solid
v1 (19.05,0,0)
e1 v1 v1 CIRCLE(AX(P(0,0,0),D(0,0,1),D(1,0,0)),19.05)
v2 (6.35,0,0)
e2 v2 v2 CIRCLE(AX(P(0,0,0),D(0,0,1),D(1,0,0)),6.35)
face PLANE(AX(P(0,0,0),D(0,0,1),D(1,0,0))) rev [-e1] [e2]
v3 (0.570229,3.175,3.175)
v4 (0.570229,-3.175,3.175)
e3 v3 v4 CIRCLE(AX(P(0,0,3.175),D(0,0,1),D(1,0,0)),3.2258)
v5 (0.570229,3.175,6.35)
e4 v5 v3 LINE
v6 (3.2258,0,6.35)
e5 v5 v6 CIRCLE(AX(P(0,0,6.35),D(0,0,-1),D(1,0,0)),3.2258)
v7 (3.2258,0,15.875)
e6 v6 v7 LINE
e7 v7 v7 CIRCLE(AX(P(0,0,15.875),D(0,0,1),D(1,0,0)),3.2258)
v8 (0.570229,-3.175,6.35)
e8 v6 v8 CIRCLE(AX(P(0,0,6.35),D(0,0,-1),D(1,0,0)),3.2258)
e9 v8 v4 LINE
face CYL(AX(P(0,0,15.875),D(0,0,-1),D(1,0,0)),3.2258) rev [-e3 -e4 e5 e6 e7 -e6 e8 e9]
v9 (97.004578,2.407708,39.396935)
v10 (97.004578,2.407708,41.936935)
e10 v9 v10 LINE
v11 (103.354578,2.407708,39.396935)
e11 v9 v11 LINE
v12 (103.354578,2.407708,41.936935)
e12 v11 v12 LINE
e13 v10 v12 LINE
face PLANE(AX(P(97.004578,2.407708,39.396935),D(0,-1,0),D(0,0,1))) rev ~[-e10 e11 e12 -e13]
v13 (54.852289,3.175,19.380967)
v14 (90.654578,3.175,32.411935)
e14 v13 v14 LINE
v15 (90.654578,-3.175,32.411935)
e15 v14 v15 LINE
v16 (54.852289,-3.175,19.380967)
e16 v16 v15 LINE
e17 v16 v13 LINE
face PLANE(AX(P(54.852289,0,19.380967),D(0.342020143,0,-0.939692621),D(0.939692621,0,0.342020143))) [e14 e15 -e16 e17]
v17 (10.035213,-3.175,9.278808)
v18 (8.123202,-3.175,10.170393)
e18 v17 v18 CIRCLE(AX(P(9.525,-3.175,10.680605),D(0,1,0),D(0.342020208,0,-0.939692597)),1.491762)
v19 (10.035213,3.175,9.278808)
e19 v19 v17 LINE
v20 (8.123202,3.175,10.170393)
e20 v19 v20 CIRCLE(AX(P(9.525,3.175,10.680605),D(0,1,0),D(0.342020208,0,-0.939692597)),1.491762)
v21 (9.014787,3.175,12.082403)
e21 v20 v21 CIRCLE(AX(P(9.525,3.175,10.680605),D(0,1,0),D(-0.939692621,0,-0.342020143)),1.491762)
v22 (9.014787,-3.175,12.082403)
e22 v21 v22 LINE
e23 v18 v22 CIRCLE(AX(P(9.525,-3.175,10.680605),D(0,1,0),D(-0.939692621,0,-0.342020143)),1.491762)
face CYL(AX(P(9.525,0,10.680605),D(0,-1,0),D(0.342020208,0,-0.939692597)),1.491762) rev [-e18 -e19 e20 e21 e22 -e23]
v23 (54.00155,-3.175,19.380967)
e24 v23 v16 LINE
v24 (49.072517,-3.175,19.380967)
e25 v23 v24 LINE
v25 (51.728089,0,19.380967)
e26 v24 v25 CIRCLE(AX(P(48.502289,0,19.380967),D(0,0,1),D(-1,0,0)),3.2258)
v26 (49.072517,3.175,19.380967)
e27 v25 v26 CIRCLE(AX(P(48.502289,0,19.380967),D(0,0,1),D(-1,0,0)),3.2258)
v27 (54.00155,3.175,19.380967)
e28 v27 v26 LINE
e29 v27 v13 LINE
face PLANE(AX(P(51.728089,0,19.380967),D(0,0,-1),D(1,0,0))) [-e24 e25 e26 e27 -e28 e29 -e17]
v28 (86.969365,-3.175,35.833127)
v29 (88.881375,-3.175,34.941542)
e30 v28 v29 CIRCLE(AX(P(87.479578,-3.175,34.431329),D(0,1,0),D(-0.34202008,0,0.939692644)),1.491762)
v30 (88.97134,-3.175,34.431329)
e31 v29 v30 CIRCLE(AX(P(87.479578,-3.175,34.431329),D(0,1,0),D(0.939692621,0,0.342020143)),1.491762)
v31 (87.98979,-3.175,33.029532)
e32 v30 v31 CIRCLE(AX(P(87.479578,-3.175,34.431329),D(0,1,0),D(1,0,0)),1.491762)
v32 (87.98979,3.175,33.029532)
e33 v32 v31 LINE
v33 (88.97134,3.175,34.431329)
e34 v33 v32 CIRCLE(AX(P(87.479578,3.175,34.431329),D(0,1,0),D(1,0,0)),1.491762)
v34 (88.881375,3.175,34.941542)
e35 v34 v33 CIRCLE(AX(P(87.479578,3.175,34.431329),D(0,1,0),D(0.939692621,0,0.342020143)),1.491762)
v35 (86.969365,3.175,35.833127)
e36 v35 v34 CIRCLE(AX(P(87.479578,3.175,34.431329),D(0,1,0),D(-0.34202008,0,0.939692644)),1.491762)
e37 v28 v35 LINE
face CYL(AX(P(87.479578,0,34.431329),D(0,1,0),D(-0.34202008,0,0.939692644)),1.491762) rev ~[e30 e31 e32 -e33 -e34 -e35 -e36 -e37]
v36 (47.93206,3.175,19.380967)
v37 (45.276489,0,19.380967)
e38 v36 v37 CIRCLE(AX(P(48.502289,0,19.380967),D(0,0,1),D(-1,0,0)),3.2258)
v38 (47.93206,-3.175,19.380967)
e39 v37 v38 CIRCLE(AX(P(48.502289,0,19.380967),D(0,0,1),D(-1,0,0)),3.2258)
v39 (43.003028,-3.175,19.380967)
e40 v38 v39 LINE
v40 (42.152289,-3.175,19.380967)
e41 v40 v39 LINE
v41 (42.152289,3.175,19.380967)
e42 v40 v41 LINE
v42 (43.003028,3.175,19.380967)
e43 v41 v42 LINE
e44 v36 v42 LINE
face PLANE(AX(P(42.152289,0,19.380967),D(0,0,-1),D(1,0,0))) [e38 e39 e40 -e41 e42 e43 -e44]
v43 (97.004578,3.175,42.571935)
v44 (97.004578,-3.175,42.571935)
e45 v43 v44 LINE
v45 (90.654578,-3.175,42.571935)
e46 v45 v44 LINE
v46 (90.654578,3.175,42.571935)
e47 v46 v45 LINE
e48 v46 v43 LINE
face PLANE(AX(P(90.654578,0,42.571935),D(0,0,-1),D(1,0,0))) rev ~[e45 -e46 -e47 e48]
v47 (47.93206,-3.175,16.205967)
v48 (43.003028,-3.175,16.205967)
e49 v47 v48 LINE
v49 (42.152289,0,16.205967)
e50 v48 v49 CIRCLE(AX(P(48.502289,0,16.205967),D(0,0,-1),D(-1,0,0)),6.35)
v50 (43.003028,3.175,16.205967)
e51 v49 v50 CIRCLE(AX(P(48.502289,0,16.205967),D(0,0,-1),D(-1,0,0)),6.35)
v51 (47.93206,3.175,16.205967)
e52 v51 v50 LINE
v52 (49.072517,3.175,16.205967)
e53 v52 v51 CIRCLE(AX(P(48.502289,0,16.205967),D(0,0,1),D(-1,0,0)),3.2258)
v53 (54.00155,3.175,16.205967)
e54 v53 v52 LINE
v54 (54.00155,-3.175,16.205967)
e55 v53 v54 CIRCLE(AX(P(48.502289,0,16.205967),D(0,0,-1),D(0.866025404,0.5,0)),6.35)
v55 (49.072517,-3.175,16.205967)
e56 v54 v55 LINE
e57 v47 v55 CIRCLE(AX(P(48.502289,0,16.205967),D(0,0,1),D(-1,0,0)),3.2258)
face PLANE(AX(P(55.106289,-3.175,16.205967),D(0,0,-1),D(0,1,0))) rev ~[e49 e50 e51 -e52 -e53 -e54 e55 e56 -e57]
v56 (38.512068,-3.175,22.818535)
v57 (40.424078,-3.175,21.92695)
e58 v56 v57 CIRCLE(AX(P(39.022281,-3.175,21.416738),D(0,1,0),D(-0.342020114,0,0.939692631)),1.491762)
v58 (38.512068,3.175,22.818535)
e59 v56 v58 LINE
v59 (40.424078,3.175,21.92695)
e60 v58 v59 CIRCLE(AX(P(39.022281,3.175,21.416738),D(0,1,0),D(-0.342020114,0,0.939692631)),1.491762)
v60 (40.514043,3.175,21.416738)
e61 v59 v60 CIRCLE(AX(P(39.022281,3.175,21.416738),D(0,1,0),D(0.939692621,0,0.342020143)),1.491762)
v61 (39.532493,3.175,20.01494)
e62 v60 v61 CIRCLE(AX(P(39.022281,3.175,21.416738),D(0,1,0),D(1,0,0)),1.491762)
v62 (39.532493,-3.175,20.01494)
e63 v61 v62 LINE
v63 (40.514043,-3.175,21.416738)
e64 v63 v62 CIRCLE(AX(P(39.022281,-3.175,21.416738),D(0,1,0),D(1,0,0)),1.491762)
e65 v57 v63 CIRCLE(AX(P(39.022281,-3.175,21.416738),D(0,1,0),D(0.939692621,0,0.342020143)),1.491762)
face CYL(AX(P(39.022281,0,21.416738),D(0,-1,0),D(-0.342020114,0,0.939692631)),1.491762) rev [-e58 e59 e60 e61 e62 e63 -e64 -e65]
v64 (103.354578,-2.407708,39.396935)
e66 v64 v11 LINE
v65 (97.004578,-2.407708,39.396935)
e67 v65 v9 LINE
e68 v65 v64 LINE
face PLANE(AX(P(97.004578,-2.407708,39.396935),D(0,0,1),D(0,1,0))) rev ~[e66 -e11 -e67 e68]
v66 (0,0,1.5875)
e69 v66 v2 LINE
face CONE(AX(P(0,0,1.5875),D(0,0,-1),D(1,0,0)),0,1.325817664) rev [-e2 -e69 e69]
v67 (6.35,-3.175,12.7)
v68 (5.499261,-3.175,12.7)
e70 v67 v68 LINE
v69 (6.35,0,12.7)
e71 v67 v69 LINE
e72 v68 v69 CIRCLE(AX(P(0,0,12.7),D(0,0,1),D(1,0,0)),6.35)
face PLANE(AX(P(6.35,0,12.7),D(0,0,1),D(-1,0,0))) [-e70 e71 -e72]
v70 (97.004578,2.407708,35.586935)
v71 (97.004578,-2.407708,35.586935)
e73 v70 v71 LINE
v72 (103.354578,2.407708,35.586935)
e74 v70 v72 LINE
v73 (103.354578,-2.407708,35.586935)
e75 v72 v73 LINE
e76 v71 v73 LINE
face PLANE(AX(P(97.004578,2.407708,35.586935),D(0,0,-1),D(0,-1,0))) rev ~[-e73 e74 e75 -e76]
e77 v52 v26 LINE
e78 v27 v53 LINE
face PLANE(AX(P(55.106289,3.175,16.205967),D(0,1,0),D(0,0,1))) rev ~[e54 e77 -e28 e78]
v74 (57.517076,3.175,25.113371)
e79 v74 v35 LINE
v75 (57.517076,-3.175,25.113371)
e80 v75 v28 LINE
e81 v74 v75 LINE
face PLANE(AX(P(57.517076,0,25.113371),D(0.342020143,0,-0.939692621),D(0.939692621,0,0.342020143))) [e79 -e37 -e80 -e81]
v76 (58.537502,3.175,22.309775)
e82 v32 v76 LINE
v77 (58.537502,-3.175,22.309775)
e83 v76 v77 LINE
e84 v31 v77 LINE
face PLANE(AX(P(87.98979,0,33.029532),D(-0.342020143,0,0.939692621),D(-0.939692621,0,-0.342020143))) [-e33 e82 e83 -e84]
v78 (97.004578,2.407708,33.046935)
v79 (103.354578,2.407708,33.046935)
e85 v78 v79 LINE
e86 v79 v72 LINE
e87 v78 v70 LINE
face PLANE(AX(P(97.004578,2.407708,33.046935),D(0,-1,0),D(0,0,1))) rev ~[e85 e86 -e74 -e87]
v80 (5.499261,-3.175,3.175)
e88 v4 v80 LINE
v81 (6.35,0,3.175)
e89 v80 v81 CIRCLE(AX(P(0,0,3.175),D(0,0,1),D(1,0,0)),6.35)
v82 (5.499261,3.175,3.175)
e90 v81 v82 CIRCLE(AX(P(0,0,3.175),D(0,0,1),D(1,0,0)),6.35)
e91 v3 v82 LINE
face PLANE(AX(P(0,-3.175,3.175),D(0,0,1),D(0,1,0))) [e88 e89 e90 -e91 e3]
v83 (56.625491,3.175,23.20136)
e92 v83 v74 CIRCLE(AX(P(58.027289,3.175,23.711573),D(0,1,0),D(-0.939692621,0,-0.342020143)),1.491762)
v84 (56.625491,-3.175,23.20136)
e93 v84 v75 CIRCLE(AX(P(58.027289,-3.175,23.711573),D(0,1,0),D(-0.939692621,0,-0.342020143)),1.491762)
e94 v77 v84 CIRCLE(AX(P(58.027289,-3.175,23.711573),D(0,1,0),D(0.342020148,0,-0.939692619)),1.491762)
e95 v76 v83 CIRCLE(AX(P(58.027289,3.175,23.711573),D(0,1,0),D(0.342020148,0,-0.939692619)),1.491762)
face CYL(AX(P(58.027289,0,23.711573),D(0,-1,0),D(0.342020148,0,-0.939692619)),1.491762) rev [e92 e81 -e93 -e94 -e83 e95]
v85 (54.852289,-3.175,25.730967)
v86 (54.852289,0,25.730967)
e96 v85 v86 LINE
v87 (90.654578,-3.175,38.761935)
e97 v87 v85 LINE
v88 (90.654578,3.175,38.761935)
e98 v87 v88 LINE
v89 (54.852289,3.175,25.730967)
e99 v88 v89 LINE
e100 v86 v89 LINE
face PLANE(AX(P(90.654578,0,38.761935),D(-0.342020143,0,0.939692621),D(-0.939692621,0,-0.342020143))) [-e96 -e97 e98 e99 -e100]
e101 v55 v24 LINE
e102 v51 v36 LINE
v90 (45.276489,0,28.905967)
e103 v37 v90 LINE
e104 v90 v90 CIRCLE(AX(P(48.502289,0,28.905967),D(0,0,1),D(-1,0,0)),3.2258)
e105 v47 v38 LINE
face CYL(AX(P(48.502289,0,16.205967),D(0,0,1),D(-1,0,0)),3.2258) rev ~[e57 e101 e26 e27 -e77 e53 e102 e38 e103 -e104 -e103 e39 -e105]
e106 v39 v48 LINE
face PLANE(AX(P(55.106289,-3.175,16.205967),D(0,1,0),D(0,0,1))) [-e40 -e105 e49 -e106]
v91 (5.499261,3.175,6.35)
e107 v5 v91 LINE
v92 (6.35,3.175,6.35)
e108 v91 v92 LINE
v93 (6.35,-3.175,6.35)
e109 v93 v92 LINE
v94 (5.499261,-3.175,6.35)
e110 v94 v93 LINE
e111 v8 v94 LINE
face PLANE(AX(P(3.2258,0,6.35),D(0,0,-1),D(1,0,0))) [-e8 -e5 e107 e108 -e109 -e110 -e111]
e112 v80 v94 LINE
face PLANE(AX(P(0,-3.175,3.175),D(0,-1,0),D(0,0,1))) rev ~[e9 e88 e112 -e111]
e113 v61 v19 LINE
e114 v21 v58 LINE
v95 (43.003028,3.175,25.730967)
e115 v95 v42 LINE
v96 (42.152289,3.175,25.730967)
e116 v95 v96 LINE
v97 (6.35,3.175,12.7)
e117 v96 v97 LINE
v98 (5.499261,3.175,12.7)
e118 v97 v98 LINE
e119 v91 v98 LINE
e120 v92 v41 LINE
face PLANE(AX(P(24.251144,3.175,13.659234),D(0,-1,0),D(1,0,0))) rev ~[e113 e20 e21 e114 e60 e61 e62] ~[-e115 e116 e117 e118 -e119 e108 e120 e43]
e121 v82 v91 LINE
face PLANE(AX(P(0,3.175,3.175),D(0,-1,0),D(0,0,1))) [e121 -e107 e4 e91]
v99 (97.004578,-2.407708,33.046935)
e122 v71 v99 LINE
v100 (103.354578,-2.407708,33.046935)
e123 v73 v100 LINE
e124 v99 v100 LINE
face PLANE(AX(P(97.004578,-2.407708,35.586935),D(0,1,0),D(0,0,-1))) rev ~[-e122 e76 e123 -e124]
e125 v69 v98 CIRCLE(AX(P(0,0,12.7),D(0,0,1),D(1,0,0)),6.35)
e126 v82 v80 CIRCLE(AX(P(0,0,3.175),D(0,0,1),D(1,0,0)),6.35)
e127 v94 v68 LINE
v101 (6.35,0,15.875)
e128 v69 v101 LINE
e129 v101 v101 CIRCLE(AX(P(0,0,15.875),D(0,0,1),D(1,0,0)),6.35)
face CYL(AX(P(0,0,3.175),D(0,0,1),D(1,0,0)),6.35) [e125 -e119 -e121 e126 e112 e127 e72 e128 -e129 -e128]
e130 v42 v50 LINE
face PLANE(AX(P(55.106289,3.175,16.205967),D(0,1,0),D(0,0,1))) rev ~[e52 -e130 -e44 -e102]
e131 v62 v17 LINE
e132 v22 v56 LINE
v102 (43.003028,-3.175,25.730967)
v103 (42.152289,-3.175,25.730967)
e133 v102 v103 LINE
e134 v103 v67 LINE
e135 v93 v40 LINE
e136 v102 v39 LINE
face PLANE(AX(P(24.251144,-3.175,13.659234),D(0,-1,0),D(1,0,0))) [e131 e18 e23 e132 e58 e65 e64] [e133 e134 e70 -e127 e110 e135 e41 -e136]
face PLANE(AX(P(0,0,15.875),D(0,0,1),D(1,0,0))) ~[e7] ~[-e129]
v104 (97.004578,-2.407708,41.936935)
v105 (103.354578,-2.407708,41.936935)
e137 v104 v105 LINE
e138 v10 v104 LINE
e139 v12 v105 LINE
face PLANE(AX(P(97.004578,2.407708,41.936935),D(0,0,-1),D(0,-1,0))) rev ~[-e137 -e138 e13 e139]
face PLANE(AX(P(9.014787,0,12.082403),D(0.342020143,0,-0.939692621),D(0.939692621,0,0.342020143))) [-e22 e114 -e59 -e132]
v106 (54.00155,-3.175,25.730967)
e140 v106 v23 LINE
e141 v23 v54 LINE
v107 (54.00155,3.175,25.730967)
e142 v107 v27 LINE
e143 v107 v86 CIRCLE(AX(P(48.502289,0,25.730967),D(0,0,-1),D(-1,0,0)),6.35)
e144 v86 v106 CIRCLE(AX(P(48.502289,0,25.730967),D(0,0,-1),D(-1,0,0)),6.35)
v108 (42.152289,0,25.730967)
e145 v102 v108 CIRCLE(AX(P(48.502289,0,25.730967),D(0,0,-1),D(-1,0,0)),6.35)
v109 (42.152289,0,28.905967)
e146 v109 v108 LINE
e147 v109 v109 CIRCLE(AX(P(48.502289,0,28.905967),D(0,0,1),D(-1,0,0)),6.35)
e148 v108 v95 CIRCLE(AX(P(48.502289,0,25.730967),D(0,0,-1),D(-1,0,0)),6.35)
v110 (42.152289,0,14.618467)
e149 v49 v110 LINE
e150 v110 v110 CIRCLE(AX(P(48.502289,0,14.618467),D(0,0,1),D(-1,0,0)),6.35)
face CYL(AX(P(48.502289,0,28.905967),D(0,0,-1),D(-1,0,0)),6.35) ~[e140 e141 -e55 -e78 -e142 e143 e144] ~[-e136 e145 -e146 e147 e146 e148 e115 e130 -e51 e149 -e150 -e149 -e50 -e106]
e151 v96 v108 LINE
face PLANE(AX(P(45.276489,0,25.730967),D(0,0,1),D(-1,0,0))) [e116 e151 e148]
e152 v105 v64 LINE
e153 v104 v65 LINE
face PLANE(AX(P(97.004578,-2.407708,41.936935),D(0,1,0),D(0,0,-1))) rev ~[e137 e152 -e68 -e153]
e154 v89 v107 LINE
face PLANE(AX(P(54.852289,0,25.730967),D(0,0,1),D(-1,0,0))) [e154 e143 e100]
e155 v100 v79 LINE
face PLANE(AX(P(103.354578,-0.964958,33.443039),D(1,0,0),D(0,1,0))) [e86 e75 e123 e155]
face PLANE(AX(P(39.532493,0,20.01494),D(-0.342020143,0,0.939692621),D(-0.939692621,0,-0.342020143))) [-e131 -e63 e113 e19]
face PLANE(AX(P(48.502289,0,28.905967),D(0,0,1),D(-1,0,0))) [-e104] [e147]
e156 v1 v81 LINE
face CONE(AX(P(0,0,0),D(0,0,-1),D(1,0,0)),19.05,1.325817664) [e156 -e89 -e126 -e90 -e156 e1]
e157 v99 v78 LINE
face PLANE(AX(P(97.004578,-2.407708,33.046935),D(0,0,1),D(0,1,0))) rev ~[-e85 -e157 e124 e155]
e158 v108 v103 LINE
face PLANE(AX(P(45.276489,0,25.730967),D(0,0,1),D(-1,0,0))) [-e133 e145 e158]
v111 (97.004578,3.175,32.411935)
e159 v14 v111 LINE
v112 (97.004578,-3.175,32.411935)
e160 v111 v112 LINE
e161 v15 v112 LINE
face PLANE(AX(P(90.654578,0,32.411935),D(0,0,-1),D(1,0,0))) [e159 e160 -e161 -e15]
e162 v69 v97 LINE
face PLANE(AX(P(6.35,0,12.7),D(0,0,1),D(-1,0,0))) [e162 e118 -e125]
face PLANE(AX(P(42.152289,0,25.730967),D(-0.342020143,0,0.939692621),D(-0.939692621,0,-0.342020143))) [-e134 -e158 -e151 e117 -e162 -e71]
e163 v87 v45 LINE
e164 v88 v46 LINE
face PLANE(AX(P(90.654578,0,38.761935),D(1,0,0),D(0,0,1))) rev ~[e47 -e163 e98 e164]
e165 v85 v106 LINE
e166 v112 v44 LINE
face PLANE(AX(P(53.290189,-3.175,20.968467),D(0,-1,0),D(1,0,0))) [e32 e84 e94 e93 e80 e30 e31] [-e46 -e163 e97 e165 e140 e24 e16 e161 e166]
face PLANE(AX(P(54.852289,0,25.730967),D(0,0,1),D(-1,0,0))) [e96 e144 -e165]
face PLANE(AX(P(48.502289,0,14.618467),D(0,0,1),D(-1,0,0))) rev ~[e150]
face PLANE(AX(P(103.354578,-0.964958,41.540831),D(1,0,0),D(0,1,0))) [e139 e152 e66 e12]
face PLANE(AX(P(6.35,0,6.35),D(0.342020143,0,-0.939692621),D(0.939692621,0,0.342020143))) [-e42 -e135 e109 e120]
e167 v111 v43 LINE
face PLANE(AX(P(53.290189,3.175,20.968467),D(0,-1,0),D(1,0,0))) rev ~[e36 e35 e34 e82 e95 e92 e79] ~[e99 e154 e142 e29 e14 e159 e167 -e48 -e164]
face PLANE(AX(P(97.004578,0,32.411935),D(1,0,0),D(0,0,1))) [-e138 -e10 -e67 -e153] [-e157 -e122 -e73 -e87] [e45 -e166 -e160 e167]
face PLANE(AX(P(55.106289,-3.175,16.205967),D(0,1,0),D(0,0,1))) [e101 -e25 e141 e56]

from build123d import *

# Parameters (mm, degrees)
F0_W     = 3.1242
F0_H     = 3.175
F2_DEPTH = 3.175
F0_W_2   = 0.254
F0_W_3   = 6.35
F0_H_2   = 3.81
F4_W     = 3.175
F4_H     = 3.175
F5_DEPTH = 6.35
F6_W     = 6.35
F6_H     = 3.175
F7_DEPTH = 12.954
F9_DEPTH = 6.35


with BuildPart() as f1:
    # F0 (on Front) → F1 (revolve)
    with BuildSketch(Plane.XZ):
        Polygon((3.2258, 3.175), (0, 3.175), (0, 1.5875), (6.35, 0), (19.05, 0), (6.35, 3.175), (6.35, 6.35), (3.2258, 6.35), align=None)
        Polygon((3.2258, 9.525), (3.2258, 6.35), (6.35, 6.35), (6.35, 7.9375), (6.35, 9.525), align=None)
        Polygon((3.2258, 12.7), (3.2258, 9.525), (6.35, 9.525), (6.35, 11.1125), (6.35, 12.7), align=None)
        with Locations((4.7879, 14.2875)):
            Rectangle(F0_W, F0_H)
    revolve(axis=Axis((0, 0, 9.525), (0, 0, 1)))

    # F0 (on Front) → F2 (join, symmetric)
    with BuildSketch(Plane.XZ):
        Polygon((6.35, 7.9375), (6.35, 6.35), (42.1522888519, 19.3809674607), (42.1522888519, 20.9684674607), (39.5324932131, 20.0149398283), (10.0352127619, 9.2788077523), align=None)
        with BuildLine():
            Line((8.1232022233, 10.1703928286), (6.35, 9.525))
            Line((6.35, 9.525), (6.35, 7.9375))
            Line((6.35, 7.9375), (10.0352127619, 9.2788077523))
            ThreePointArc((10.0352127619, 9.2788077523), (8.8945541682, 9.3286099229), (8.1232022233, 10.1703928286))
        make_face()
        with BuildLine():
            Line((6.35, 11.1125), (6.35, 9.525))
            Line((6.35, 9.525), (8.1232022233, 10.1703928286))
            ThreePointArc((8.1232022233, 10.1703928286), (8.173004472, 11.3110514176), (9.014787429, 12.0824033048))
            Line((9.014787429, 12.0824033048), (6.35, 11.1125))
        make_face()
        Polygon((42.1522888519, 25.7309674607), (6.35, 12.7), (6.35, 11.1125), (9.014787429, 12.0824033048), (38.5120679189, 22.8185353949), (42.1522888519, 24.1434674607), align=None)
        Polygon((3.2258, 12.7), (3.2258, 9.525), (6.35, 9.525), (6.35, 11.1125), (6.35, 12.7), align=None)
        Polygon((3.2258, 9.525), (3.2258, 6.35), (6.35, 6.35), (6.35, 7.9375), (6.35, 9.525), align=None)
        with BuildLine():
            Line((42.1015425762, 22.5374973268), (42.1522888519, 22.5377925414))
            Line((42.1522888519, 22.5377925414), (42.1522888519, 24.1434674607))
            Line((42.1522888519, 24.1434674607), (38.5120679189, 22.8185353949))
            ThreePointArc((38.5120679189, 22.8185353949), (39.65272644, 22.7687331418), (40.4240783174, 21.9269502676))
            Line((40.4240783174, 21.9269502676), (40.5140425762, 21.9596945799))
            Line((40.5140425762, 21.9596945799), (42.1015425762, 22.5374973268))
        make_face()
        with BuildLine():
            Line((39.5324932131, 20.0149398283), (42.1522888519, 20.9684674607))
            Line((42.1522888519, 20.9684674607), (42.1522888519, 22.5377925414))
            Line((42.1522888519, 22.5377925414), (42.1015425762, 22.5374973268))
            Line((42.1015425762, 22.5374973268), (40.5140425762, 21.9596945799))
            Line((40.5140425762, 21.9596945799), (40.4240783174, 21.9269502676))
            ThreePointArc((40.4240783174, 21.9269502676), (40.4913793589, 21.6757793614), (40.5140425762, 21.4167376024))
            ThreePointArc((40.5140425762, 21.4167376024), (40.2442604638, 20.5610980533), (39.5324932131, 20.0149398283))
        make_face()
        Polygon((45.2764888519, 25.7309674607), (42.1522888519, 25.7309674607), (42.1522888519, 24.1434674607), (42.1522888519, 22.5377925414), (45.2764888519, 22.5559674607), align=None)
        Polygon((42.1522888519, 20.9684674607), (42.1522888519, 19.3809674607), (45.2764888519, 19.3809674607), (45.2764888519, 22.5559674607), (42.1522888519, 22.5377925414), align=None)
    extrude(amount=F2_DEPTH, both=True)



with BuildPart() as f2:
    # F0 (on Front) → F2, piece 2 (new body, symmetric)
    with BuildSketch(Plane.XZ):
        with Locations((54.9792888519, 17.7934674607)):
            Rectangle(F0_W_2, F0_H)
    extrude(amount=F2_DEPTH, both=True)

    # F0 (on Front) → F2, piece 3 (join, symmetric)
    with BuildSketch(Plane.XZ):
        Polygon((51.7280888519, 22.5559674607), (51.7280888519, 19.3809674607), (54.8522888519, 19.3809674607), (54.8522888519, 20.9684674607), (54.8522888519, 22.5559674607), align=None)
        Polygon((51.7280888519, 25.7309674607), (51.7280888519, 22.5559674607), (54.8522888519, 22.5559674607), (54.8522888519, 24.1434674607), (54.8522888519, 25.7309674607), align=None)
        Polygon((90.6545777039, 38.7619349214), (54.8522888519, 25.7309674607), (54.8522888519, 24.1434674607), (57.5170761795, 25.1133707286), (86.9693651328, 35.8331272386), (90.6545777039, 37.1744349214), align=None)
        with BuildLine():
            Line((54.8522888519, 24.1434674607), (54.8522888519, 22.5559674607))
            Line((54.8522888519, 22.5559674607), (56.6254910752, 23.2013602893))
            ThreePointArc((56.6254910752, 23.2013602893), (56.6752933011, 24.3420188294), (57.5170761795, 25.1133707286))
            Line((57.5170761795, 25.1133707286), (54.8522888519, 24.1434674607))
        make_face()
        with BuildLine():
            Line((54.8522888519, 22.5559674607), (54.8522888519, 20.9684674607))
            Line((54.8522888519, 20.9684674607), (58.5375015244, 22.3097751804))
            ThreePointArc((58.5375015244, 22.3097751804), (57.3968429771, 22.3595774037), (56.6254910752, 23.2013602893))
            Line((56.6254910752, 23.2013602893), (54.8522888519, 22.5559674607))
        make_face()
        Polygon((54.8522888519, 20.9684674607), (54.8522888519, 19.3809674607), (90.6545777039, 32.4119349214), (90.6545777039, 33.9994349214), (87.9897903763, 33.0295316535), (58.5375015244, 22.3097751804), align=None)
        with BuildLine():
            Line((87.9897903763, 33.0295316535), (90.6545777039, 33.9994349214))
            Line((90.6545777039, 33.9994349214), (90.6545777039, 35.5869349214))
            Line((90.6545777039, 35.5869349214), (88.8813754806, 34.9415420928))
            ThreePointArc((88.8813754806, 34.9415420928), (88.9486765221, 34.6903711866), (88.9713397394, 34.4313294276))
            ThreePointArc((88.9713397394, 34.4313294276), (88.7015576271, 33.5756898786), (87.9897903763, 33.0295316535))
        make_face()
        with BuildLine():
            Line((88.8813754806, 34.9415420928), (90.6545777039, 35.5869349214))
            Line((90.6545777039, 35.5869349214), (90.6545777039, 37.1744349214))
            Line((90.6545777039, 37.1744349214), (86.9693651328, 35.8331272386))
            ThreePointArc((86.9693651328, 35.8331272386), (88.1100236277, 35.7833249556), (88.8813754806, 34.9415420928))
        make_face()
        Polygon((90.6545777039, 33.9994349214), (90.6545777039, 32.4119349214), (97.0045777039, 32.4119349214), (97.0045777039, 38.7619349214), (90.6545777039, 38.7619349214), (90.6545777039, 37.1744349214), (90.6545777039, 35.5869349214), align=None)
        with Locations((93.8295777039, 40.6669349214)):
            Rectangle(F0_W_3, F0_H_2)
    extrude(amount=F2_DEPTH, both=True)


with BuildPart() as f1_1:
    add(f1.part)

    add(f2.part)  # F3 merges F2
    # F0 (on Front) → F3 (revolve)
    with BuildSketch(Plane.XZ):
        Polygon((45.2764888519, 16.2059674607), (42.1522888519, 16.2059674607), (42.1522888519, 14.6184674607), (48.5022888519, 14.6184674607), (48.5022888519, 16.2059674607), align=None)
        with Locations((43.7143888519, 17.7934674607)):
            Rectangle(F0_W, F0_H)
        Polygon((42.1522888519, 20.9684674607), (42.1522888519, 19.3809674607), (45.2764888519, 19.3809674607), (45.2764888519, 22.5559674607), (42.1522888519, 22.5377925414), align=None)
        Polygon((45.2764888519, 25.7309674607), (42.1522888519, 25.7309674607), (42.1522888519, 24.1434674607), (42.1522888519, 22.5377925414), (45.2764888519, 22.5559674607), align=None)
        with Locations((43.7143888519, 27.3184674607)):
            Rectangle(F0_W, F0_H)
    revolve(axis=Axis((48.5022888519, 0, 22.5559674607), (0, 0, 1)))

    # F4 (on Right) → F5 (cut)
    with BuildSketch(Plane.YZ):
        with Locations((-1.5875, 4.7625)):
            Rectangle(F4_W, F4_H)
        with Locations((1.5875, 4.7625)):
            Rectangle(F4_W, F4_H)
    extrude(amount=F5_DEPTH, mode=Mode.SUBTRACT)

    # F6 (on face) → F7 (cut)
    with BuildSketch(Plane.YZ.offset(55.1062888519)):
        with Locations((0, 17.7934674607)):
            Rectangle(F6_W, F6_H)
    extrude(amount=-F7_DEPTH, mode=Mode.SUBTRACT)

    # F8 (on face) → F9 (join)
    with BuildSketch(Plane.YZ.offset(97.0045777039)):
        Polygon((0, 41.9369349214), (-2.4077083333, 41.9369349214), (0, 40.6669349214), align=None)
        Polygon((2.4077083333, 41.9369349214), (0, 41.9369349214), (0, 40.6669349214), align=None)
        Polygon((0, 33.0469349214), (0, 34.3169349214), (-2.4077083333, 33.0469349214), align=None)
        Polygon((2.4077083333, 33.0469349214), (0, 34.3169349214), (0, 33.0469349214), align=None)
        Polygon((2.4077083333, 33.0469349214), (2.4077083333, 35.5869349214), (0, 34.3169349214), align=None)
        Polygon((2.4077083333, 35.5869349214), (0, 35.5869349214), (0, 34.3169349214), align=None)
        Polygon((0, 34.3169349214), (0, 35.5869349214), (-2.4077083333, 35.5869349214), align=None)
        Polygon((0, 34.3169349214), (-2.4077083333, 35.5869349214), (-2.4077083333, 33.0469349214), align=None)
        Polygon((0, 40.6669349214), (-2.4077083333, 39.3969349214), (0, 39.3969349214), align=None)
        Polygon((0, 40.6669349214), (-2.4077083333, 41.9369349214), (-2.4077083333, 39.3969349214), align=None)
        Polygon((2.4077083333, 39.3969349214), (0, 40.6669349214), (0, 39.3969349214), align=None)
        Polygon((2.4077083333, 41.9369349214), (0, 40.6669349214), (2.4077083333, 39.3969349214), align=None)
    extrude(amount=F9_DEPTH)


solid = f1_1.part
